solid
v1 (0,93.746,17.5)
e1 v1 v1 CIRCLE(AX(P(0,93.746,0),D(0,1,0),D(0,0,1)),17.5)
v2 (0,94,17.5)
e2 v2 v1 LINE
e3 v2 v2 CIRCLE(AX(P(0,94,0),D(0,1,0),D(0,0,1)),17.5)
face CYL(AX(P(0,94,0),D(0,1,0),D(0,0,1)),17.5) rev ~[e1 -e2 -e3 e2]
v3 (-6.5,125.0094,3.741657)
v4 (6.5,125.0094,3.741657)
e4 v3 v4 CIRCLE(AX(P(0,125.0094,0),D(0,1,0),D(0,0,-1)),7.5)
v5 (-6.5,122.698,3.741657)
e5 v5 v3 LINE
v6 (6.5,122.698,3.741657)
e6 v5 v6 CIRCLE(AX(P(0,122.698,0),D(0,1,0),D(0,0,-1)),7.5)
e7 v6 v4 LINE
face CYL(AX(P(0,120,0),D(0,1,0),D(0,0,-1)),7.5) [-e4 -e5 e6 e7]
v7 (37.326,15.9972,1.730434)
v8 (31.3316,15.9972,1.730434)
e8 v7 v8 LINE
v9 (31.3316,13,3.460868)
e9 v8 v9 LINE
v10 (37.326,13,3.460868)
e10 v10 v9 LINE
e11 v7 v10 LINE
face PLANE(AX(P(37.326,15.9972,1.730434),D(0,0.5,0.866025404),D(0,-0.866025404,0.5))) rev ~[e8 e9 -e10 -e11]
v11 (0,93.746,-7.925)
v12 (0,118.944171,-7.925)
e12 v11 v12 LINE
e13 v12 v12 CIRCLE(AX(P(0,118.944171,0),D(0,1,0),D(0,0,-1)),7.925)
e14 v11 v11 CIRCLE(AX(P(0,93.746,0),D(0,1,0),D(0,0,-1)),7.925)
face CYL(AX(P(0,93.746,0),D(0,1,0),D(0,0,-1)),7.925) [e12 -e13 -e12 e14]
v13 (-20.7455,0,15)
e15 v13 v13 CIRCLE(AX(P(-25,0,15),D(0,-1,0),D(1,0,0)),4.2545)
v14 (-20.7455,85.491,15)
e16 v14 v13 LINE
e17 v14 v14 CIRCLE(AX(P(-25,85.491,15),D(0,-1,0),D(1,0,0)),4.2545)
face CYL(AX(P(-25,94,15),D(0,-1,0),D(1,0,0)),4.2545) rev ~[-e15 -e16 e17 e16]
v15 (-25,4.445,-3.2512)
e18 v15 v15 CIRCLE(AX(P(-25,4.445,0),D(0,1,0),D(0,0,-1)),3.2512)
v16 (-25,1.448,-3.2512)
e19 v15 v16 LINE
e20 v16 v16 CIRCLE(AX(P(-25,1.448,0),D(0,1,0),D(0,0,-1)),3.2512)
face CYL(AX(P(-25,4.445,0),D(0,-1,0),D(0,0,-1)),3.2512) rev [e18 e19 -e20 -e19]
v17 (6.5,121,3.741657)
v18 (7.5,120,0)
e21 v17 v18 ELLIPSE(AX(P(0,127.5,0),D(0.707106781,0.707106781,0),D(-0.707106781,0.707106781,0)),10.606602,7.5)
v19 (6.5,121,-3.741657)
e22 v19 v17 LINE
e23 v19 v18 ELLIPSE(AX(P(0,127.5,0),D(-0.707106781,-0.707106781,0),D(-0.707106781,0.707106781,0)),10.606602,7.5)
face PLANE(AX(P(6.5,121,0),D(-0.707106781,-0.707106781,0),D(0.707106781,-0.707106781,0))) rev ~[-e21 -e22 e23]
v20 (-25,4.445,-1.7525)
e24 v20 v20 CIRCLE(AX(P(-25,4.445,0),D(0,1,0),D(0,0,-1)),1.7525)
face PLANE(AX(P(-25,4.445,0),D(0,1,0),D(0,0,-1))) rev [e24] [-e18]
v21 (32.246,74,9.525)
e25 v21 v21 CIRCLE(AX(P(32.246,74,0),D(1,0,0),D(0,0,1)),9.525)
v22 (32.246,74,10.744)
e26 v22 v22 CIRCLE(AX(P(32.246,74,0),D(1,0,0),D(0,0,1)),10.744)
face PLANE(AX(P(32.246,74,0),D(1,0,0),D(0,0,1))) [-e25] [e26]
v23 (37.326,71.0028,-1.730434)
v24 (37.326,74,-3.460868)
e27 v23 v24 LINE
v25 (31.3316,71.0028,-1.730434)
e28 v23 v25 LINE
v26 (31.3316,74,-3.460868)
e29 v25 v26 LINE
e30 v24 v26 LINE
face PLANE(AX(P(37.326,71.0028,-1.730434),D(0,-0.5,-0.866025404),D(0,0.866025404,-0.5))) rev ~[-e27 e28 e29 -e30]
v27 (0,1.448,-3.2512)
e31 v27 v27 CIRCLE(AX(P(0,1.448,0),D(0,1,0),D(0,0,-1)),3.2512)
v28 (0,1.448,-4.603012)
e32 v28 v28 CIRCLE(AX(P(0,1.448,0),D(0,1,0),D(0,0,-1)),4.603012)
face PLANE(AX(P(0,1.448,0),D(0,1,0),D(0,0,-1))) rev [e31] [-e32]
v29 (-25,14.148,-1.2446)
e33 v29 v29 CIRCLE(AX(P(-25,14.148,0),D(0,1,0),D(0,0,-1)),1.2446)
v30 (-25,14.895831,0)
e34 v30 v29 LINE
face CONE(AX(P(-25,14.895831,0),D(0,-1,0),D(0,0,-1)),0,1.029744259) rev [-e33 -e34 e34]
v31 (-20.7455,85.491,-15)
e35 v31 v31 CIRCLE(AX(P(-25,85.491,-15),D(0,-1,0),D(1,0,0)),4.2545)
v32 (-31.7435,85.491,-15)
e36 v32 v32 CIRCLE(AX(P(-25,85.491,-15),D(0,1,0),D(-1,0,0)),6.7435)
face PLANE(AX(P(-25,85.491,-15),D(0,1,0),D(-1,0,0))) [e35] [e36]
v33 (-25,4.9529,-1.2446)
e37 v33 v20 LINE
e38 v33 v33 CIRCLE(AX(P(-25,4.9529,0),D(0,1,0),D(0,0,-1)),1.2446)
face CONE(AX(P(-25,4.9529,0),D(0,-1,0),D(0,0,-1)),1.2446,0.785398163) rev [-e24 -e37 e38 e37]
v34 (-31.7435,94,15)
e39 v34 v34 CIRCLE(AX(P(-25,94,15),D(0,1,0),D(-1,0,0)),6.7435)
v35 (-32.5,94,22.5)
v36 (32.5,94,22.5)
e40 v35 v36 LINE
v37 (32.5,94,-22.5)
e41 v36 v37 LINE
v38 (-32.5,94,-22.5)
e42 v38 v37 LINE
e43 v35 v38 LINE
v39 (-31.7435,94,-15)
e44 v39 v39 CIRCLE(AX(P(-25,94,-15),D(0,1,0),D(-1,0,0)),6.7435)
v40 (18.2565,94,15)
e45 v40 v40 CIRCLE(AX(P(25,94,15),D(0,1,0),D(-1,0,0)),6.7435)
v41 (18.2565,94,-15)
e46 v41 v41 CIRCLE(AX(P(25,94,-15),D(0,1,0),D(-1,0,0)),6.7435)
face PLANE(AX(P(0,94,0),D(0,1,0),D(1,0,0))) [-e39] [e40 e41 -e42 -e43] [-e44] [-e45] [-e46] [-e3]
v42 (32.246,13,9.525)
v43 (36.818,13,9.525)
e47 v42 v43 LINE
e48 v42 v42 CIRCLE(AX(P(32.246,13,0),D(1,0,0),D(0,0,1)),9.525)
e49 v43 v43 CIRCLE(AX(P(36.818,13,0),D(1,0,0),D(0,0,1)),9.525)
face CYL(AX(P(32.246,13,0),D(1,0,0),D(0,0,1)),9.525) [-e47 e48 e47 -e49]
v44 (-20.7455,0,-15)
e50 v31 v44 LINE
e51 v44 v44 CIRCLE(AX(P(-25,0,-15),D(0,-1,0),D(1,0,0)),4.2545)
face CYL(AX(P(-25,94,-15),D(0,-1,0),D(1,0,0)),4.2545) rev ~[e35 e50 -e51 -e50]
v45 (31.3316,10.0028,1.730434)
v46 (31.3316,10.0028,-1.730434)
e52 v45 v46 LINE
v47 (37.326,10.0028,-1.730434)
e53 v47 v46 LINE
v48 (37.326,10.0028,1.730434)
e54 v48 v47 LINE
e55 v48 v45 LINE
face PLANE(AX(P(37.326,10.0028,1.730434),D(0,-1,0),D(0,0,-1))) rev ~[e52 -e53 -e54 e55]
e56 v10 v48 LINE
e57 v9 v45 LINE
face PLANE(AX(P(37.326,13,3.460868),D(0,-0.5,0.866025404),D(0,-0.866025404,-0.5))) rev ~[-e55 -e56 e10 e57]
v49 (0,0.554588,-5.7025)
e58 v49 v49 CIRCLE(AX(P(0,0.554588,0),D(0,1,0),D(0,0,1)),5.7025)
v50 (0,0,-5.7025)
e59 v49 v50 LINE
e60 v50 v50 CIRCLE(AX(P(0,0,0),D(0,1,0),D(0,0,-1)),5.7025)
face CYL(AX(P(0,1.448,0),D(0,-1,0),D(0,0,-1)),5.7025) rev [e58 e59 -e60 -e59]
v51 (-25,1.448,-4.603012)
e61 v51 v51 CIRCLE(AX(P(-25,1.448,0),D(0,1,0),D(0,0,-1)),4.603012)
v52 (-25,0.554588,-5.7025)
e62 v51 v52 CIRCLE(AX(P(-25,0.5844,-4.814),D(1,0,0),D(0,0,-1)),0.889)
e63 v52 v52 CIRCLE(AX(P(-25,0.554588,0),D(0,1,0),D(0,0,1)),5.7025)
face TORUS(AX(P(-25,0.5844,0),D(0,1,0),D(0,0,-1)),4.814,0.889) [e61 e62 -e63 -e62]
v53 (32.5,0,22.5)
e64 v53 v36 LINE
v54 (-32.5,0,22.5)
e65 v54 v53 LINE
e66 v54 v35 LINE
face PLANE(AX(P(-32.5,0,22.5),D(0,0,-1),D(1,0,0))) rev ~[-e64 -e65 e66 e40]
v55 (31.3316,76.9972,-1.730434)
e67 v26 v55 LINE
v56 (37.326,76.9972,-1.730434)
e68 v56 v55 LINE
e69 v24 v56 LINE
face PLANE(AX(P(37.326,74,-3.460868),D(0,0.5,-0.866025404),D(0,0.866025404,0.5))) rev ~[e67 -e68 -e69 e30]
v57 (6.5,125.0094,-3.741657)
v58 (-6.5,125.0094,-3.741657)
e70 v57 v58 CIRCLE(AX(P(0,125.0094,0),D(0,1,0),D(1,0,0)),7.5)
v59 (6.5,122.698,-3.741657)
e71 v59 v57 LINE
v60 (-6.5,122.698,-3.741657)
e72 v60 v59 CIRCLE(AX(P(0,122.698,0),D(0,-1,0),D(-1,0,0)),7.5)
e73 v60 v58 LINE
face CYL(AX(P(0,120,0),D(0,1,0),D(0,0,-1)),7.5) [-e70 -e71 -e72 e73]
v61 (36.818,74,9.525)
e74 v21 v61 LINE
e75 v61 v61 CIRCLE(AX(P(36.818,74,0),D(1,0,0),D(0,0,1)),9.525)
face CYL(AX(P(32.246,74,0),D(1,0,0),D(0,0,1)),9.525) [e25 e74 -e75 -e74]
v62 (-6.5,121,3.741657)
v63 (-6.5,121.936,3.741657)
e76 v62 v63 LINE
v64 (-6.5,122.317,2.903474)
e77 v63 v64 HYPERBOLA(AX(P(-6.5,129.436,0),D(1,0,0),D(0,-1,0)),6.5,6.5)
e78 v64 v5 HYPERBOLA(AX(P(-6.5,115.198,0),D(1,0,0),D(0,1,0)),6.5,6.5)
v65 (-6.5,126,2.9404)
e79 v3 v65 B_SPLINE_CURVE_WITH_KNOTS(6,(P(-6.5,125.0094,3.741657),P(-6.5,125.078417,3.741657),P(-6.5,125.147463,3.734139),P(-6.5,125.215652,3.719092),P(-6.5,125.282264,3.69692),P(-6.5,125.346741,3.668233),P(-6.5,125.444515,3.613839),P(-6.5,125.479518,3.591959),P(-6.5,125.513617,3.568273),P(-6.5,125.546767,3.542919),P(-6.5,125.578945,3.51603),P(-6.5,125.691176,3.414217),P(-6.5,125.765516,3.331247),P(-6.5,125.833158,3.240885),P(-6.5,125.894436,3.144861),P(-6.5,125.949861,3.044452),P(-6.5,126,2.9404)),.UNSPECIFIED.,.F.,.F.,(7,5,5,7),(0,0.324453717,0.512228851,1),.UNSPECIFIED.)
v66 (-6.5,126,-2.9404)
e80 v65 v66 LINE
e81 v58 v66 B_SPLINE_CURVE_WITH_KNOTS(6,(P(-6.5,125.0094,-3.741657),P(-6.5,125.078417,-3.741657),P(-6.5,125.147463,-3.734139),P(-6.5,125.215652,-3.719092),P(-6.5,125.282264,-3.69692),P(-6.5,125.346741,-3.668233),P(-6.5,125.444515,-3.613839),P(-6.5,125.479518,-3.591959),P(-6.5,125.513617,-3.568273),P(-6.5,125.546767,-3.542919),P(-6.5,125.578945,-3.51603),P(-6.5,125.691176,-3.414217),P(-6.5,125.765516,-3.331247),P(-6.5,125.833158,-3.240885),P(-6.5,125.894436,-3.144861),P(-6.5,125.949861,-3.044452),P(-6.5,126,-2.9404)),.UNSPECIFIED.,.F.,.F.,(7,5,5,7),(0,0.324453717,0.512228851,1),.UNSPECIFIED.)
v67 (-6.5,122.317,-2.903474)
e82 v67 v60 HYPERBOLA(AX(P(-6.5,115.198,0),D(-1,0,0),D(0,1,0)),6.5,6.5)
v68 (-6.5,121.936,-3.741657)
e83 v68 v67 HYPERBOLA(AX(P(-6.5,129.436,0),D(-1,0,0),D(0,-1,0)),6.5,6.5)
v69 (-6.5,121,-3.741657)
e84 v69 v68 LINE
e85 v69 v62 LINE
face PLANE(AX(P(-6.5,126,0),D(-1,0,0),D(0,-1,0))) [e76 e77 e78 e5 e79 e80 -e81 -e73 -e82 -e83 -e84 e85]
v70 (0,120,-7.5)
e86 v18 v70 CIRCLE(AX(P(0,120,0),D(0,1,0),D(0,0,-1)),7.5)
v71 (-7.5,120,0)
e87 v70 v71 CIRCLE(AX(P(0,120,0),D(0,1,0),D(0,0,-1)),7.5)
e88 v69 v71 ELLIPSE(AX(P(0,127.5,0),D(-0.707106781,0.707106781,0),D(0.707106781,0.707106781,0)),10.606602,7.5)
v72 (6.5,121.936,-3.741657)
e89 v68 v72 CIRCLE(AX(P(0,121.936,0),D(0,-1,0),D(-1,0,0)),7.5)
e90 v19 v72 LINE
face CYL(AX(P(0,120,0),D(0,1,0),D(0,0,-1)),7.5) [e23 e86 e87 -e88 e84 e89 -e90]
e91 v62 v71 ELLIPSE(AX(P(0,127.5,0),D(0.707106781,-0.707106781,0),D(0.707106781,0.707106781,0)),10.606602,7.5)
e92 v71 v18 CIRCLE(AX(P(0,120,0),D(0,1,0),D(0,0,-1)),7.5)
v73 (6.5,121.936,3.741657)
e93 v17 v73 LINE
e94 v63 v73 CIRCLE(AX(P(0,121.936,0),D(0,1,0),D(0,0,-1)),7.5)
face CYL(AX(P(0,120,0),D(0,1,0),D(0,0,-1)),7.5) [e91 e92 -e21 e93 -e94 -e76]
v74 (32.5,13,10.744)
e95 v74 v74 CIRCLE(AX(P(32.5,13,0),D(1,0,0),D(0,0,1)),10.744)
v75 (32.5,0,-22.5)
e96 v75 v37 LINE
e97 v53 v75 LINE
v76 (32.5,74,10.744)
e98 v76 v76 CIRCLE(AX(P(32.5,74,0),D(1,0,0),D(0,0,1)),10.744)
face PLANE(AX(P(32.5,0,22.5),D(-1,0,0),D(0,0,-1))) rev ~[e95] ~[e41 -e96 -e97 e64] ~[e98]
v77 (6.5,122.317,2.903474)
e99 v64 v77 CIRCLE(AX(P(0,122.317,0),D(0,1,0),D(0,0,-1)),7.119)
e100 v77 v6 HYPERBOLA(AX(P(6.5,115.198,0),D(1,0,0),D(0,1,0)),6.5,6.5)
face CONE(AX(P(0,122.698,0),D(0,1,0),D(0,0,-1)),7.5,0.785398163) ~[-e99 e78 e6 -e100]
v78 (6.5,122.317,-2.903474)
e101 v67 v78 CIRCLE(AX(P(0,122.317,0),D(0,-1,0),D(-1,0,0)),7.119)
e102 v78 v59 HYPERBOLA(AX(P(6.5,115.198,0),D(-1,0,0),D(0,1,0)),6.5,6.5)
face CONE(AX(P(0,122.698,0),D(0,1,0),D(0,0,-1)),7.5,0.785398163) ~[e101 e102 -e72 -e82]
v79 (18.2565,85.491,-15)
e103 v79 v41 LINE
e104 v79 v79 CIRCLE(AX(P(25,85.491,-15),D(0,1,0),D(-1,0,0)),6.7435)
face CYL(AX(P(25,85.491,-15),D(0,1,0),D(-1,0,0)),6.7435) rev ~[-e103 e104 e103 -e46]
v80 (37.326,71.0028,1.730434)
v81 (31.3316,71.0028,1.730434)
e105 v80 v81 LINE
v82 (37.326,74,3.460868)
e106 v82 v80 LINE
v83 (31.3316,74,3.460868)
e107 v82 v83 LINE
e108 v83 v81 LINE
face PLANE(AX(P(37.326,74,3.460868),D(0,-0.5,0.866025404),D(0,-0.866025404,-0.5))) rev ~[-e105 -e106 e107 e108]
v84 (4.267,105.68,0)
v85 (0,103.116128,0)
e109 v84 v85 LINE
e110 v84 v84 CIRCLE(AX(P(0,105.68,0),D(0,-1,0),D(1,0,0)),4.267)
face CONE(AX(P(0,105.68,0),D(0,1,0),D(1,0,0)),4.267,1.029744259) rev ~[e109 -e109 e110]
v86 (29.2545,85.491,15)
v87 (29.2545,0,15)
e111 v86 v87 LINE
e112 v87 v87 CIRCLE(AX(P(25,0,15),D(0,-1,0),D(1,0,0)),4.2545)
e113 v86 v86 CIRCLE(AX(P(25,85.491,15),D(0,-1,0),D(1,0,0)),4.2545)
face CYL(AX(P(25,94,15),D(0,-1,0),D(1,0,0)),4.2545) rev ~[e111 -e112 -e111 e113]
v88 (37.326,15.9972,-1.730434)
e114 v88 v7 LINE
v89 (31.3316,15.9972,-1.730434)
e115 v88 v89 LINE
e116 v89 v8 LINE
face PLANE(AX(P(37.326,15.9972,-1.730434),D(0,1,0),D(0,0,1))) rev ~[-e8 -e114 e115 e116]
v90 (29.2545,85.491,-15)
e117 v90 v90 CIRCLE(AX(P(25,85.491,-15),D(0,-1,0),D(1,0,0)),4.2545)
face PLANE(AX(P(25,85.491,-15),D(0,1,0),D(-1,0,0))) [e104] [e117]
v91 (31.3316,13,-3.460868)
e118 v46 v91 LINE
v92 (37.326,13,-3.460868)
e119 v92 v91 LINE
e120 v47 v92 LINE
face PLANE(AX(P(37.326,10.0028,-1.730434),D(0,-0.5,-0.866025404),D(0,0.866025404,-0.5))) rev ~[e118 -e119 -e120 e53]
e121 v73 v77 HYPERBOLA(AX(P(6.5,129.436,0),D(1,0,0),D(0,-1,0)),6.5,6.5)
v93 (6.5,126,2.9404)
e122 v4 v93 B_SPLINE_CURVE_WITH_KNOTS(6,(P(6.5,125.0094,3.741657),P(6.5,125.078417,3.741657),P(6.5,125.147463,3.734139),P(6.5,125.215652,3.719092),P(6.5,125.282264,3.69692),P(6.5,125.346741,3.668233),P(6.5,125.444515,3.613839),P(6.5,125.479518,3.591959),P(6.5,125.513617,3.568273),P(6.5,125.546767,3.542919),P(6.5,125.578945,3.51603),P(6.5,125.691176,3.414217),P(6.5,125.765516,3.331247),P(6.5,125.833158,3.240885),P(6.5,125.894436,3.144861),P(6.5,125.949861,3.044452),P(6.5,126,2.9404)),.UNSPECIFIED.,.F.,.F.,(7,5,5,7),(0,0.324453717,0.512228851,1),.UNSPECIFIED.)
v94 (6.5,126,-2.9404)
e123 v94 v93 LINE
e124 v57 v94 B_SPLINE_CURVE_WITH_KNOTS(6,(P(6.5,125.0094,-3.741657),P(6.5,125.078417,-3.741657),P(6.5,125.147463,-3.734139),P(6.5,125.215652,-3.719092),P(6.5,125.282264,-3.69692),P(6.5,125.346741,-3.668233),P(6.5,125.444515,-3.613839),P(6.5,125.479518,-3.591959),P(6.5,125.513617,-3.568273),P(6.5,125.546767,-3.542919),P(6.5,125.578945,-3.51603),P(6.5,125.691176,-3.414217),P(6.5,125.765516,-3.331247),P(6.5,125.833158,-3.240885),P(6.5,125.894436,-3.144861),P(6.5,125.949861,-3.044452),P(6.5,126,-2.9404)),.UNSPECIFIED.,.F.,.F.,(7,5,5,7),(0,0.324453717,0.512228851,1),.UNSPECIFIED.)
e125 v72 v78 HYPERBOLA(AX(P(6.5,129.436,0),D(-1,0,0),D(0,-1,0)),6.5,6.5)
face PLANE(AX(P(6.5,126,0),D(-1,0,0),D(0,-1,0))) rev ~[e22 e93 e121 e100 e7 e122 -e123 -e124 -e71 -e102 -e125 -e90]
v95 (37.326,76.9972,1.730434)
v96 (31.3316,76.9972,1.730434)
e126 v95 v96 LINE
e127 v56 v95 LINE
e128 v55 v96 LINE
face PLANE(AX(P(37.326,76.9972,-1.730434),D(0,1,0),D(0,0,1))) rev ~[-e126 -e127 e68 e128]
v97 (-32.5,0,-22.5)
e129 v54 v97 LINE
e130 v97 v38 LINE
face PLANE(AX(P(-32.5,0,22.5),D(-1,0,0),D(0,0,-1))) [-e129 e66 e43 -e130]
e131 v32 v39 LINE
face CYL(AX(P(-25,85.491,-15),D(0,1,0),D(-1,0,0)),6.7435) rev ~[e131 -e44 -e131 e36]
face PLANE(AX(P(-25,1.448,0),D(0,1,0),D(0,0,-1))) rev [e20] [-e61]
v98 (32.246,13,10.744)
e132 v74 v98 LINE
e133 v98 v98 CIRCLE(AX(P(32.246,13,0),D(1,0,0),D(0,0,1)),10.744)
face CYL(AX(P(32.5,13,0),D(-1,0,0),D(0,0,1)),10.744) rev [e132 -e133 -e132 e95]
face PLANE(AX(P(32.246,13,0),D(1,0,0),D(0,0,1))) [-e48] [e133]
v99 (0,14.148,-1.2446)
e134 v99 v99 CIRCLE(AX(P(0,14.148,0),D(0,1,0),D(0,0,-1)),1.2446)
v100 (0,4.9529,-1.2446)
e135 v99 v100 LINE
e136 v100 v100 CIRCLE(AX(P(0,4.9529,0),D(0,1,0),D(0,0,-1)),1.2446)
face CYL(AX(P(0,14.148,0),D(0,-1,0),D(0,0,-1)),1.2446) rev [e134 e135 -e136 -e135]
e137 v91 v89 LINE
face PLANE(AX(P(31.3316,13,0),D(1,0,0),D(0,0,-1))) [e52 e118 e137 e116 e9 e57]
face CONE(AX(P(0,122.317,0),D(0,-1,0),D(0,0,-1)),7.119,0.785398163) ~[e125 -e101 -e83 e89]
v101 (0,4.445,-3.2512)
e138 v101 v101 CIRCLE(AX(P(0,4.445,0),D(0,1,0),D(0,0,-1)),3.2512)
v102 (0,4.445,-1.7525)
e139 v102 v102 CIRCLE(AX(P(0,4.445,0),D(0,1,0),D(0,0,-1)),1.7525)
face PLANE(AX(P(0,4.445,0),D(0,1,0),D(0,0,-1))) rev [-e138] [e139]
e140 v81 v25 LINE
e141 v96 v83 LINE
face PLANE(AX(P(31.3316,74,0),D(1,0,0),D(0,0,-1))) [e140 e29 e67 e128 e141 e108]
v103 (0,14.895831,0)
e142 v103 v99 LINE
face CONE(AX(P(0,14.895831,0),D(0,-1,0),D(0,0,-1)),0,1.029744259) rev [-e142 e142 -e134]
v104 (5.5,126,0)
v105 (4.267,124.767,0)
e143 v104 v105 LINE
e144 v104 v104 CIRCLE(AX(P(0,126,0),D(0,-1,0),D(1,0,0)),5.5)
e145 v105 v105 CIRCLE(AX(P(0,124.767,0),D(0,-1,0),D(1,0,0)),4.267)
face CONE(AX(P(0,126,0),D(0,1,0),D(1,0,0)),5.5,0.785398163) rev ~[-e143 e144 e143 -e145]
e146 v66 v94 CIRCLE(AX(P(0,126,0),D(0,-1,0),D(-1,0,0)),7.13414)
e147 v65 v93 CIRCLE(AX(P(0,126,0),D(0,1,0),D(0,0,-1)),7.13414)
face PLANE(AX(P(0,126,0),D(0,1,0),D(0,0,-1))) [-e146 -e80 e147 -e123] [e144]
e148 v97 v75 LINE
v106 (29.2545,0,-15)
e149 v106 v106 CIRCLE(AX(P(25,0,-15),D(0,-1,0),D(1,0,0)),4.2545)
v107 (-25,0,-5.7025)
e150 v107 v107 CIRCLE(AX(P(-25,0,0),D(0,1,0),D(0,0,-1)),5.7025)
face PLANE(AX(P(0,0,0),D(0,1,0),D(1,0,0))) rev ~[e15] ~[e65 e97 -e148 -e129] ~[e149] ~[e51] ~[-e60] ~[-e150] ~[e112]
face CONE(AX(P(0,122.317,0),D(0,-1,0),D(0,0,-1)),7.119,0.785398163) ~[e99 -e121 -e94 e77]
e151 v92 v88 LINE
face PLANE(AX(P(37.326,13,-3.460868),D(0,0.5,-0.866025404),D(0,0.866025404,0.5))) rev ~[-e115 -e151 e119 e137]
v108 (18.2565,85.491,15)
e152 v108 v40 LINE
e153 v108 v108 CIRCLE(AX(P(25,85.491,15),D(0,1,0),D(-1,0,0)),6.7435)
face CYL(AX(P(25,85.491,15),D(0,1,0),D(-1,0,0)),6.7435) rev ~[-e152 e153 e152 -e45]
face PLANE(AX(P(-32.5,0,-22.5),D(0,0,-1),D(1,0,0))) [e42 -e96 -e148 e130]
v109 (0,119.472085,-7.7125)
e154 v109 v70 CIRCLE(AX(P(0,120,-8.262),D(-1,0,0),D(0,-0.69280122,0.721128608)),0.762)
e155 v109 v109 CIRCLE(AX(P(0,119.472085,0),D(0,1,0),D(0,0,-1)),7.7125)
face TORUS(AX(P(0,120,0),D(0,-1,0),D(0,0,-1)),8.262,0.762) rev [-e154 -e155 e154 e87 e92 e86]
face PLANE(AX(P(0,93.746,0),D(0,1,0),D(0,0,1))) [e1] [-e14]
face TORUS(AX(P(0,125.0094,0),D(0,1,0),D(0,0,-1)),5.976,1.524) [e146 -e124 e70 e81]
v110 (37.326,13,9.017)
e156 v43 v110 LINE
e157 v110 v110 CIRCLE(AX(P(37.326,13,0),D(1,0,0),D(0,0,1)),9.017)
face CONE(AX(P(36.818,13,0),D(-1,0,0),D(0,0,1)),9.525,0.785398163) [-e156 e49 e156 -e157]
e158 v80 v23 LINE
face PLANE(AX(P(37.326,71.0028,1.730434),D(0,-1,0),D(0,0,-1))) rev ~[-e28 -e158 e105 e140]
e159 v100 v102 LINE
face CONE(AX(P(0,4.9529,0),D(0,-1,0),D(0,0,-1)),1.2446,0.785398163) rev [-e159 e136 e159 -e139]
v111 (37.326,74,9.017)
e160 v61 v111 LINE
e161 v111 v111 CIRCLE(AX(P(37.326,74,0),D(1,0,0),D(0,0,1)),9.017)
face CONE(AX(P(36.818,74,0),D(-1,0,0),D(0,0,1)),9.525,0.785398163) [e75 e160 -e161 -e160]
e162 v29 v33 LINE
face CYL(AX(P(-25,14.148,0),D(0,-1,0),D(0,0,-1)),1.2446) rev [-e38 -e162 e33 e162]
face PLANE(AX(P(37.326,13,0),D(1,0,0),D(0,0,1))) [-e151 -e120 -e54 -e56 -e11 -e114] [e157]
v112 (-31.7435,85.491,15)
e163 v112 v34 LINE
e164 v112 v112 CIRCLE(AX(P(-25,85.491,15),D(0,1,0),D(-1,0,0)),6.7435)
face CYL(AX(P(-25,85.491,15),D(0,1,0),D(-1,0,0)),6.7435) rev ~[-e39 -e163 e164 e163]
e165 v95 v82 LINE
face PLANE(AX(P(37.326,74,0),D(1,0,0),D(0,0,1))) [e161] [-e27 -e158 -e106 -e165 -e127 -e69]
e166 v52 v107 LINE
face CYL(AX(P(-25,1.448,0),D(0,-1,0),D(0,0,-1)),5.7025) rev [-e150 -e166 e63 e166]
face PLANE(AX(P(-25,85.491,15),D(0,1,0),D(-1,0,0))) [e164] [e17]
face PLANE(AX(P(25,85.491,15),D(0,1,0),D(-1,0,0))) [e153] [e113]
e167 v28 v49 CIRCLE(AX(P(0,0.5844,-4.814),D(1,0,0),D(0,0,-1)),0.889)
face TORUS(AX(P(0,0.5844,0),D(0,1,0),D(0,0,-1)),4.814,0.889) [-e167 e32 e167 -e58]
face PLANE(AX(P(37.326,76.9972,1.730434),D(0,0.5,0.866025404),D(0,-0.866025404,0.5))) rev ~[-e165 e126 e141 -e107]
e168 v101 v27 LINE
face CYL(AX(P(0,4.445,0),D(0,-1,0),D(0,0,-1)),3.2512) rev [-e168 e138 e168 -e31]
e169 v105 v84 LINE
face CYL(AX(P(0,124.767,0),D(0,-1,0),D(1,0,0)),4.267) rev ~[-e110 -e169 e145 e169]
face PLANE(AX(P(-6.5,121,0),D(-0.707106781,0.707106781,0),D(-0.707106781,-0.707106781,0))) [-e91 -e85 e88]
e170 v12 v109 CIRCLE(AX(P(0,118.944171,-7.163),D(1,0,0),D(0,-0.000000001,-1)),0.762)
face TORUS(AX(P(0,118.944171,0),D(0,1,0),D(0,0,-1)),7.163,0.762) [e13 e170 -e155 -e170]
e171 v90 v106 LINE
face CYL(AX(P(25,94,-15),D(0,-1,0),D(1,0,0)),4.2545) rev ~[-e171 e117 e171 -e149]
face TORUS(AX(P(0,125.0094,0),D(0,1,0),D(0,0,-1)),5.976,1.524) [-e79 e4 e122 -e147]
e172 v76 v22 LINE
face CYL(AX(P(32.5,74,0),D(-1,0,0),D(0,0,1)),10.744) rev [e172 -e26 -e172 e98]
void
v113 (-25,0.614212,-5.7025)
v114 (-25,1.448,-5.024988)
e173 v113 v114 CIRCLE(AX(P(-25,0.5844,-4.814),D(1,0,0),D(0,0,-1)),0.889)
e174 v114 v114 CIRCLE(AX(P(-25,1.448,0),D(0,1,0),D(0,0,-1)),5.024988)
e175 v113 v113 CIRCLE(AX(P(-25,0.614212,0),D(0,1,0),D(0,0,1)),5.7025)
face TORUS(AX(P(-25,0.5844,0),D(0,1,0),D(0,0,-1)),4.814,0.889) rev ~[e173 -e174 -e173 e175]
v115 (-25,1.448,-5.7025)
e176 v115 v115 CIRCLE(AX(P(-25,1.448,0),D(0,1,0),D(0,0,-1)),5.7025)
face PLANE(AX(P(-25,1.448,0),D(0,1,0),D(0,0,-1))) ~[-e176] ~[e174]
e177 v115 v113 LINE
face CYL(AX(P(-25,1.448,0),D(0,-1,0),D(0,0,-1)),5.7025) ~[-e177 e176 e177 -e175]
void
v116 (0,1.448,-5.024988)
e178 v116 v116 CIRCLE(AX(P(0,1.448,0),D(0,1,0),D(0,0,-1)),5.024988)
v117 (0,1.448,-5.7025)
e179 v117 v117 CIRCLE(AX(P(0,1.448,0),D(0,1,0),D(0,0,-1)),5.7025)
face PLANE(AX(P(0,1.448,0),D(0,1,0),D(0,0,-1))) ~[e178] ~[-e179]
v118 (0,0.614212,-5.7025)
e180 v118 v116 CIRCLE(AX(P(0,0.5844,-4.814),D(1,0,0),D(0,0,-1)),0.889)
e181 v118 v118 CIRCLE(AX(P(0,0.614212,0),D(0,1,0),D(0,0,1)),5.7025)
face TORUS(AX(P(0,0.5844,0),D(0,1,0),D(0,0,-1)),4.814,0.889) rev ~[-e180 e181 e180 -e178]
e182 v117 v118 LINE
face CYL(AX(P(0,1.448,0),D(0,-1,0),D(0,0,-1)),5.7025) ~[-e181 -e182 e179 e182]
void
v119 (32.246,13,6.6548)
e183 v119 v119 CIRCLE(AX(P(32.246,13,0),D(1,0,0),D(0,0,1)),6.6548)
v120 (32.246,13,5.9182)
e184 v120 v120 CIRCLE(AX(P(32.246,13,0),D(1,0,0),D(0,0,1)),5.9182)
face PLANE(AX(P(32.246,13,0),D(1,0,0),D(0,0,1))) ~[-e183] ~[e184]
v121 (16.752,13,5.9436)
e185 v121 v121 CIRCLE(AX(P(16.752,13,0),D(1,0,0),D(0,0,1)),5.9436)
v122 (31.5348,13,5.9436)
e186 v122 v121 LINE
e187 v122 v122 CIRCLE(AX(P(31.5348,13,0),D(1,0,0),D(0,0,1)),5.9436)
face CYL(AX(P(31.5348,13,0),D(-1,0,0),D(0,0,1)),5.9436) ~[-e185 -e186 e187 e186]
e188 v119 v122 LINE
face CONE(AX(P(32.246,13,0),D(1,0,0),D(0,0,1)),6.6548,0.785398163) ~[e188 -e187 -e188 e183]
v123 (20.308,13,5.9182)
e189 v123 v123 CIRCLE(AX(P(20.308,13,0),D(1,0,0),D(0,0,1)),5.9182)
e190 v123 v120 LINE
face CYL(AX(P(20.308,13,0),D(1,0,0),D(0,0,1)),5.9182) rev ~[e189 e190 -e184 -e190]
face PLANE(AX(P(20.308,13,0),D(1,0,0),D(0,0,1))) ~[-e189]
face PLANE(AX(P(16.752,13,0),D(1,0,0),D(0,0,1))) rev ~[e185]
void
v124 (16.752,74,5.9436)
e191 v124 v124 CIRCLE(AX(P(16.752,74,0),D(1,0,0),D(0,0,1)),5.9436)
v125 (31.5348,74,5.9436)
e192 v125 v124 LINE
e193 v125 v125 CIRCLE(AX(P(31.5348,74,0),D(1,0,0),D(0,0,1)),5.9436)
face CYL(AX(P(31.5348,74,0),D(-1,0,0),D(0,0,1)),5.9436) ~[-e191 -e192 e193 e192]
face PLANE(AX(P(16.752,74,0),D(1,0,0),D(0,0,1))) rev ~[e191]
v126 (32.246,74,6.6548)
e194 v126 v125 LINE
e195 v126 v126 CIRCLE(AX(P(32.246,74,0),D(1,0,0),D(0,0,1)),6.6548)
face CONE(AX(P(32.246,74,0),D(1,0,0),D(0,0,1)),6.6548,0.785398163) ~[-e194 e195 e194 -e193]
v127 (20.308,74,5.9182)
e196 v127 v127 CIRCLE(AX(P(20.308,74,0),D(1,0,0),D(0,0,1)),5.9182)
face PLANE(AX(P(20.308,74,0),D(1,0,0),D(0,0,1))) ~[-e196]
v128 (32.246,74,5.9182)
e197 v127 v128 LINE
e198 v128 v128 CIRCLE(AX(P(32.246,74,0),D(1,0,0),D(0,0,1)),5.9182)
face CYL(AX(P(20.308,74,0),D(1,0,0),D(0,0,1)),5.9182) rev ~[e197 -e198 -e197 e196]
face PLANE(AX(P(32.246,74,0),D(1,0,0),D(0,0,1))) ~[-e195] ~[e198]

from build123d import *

# Parameters (mm, degrees)
SKETCH1_W                  = 65
SKETCH1_H                  = 45
EXTRUDE1_DEPTH             = 94
SKETCH2_R                  = 17.5
CUT_EXTRUDE1_DEPTH         = 0.254
CHAMFER1_SIZE              = 0.508
CUT_EXTRUDE2_DEPTH         = 5.9944
LPATTERN1_COUNT            = 2
LPATTERN1_PITCH            = 61
CHAMFER1_OF_LPATTERN1_SIZE = 0.508
SKETCH7_R                  = 0.889
LPATTERN2_COUNT            = 2
LPATTERN2_PITCH            = 25
CUT_EXTRUDE3_DEPTH         = 23.5
CUT_EXTRUDE3_DEPTH_BACK    = 23.5
HOLE1_D                    = 8.509
HOLE1_CBORE_D              = 13.487
HOLE1_CBORE_DEPTH          = 8.509


with BuildPart() as part:
    # Sketch1 → Extrude1 (new body)
    with BuildSketch(Plane(origin=(0, 0, 0), x_dir=(1, 0, 0), z_dir=(0, 1, 0))):
        Rectangle(SKETCH1_W, SKETCH1_H)
    extrude(amount=EXTRUDE1_DEPTH)

    # Sketch2 → Cut-Extrude1 (cut)
    with BuildSketch(Plane(origin=(0, 94, 0), x_dir=(1, 0, 0), z_dir=(0, 1, 0))):
        with Locations(Location((0, 0, 0), (0, 0, 270))):  # turned: the seam where the file's is
            Circle(SKETCH2_R)
    extrude(amount=-CUT_EXTRUDE1_DEPTH, mode=Mode.SUBTRACT)

    # Sketch3 → Cut-Revolve1 (revolve, cut)
    with BuildSketch(Plane.XY, mode=Mode.PRIVATE) as cut_revolve1_sk:
        Polygon((32.5, 74), (32.5, 63.256), (32.246, 63.256), (32.246, 67.3452), (31.5348, 68.0564), (16.752, 68.0564), (16.752, 74), align=None)
    cut_revolve1 = revolve(cut_revolve1_sk.sketch.rotate(Axis((-6.847979502, 74, 0), (1, 0, 0)), 270), axis=Axis((-6.847979502, 74, 0), (1, 0, 0)), mode=Mode.SUBTRACT)  # turned: the seam where the file's is

    # Sketch4 → Revolve1 (revolve)
    with BuildSketch(Plane.XY, mode=Mode.PRIVATE) as revolve1_sk:
        Polygon((20.308, 74), (20.308, 79.9182), (32.246, 79.9182), (32.246, 83.525), (37.326, 83.525), (37.326, 74), align=None)
    revolve1 = revolve(revolve1_sk.sketch.rotate(Axis((8.732572807, 74, 0), (1, 0, 0)), 90), axis=Axis((8.732572807, 74, 0), (1, 0, 0)))  # turned: the seam where the file's is

    # Chamfer1
    chamfer1_edges = [part.edges().sort_by_distance(p)[0] for p in [
        (37.326, 74, -9.525),
    ]]
    chamfer(chamfer1_edges, length=CHAMFER1_SIZE)

    # Sketch5 → Cut-Extrude2 (cut)
    with BuildSketch(Plane(origin=(37.326, 0, 0), x_dir=(0, 0, -1), z_dir=(1, 0, 0))):
        Polygon((1.730434227, 76.9972), (-1.730434227, 76.9972), (-3.460868454, 74), (-1.730434227, 71.0028), (1.730434227, 71.0028), (3.460868454, 74), align=None)
    cut_extrude2 = extrude(amount=-CUT_EXTRUDE2_DEPTH, mode=Mode.SUBTRACT)

    # LPattern1: Cut-Revolve1, Revolve1, Cut-Extrude2 ×2
    with Locations(*[(0, -i * LPATTERN1_PITCH, 0) for i in range(1, LPATTERN1_COUNT)]):
        add(cut_revolve1, mode=Mode.SUBTRACT)
        add(revolve1)
        add(cut_extrude2, mode=Mode.SUBTRACT)

    # Chamfer1 of LPattern1
    chamfer1_of_lpattern1_edges = [part.edges().sort_by_distance(p)[0] for p in [
        (37.326, 13, -9.525),
    ]]
    chamfer(chamfer1_of_lpattern1_edges, length=CHAMFER1_OF_LPATTERN1_SIZE)

    # Sketch6 → Cut-Revolve2 (revolve, cut)
    with BuildSketch(Plane.XY, mode=Mode.PRIVATE) as cut_revolve2_sk:
        Polygon((0, 0), (0, 14.895831126), (1.2446, 14.148), (1.2446, 4.9529), (1.7525, 4.445), (3.2512, 4.445), (3.2512, 1.448), (5.7025, 1.448), (5.7025, 0), align=None)
    cut_revolve2 = revolve(cut_revolve2_sk.sketch.rotate(Axis((0, 0, 0), (0, 1, 0)), 90), axis=Axis((0, 0, 0), (0, 1, 0)), mode=Mode.SUBTRACT)  # turned: the seam where the file's is

    # Sketch7 → Revolve3 (revolve)
    with BuildSketch(Plane.XY, mode=Mode.PRIVATE) as revolve3_sk:
        with Locations((4.814, 0.5844)):
            Circle(SKETCH7_R)
    revolve3 = revolve(revolve3_sk.sketch.rotate(Axis((0, 0, 0), (0, 1, 0)), 90), axis=Axis((0, 0, 0), (0, 1, 0)))  # turned: the seam where the file's is

    # LPattern2: Cut-Revolve2, Revolve3 ×2
    with Locations(*[(-i * LPATTERN2_PITCH, 0, 0) for i in range(1, LPATTERN2_COUNT)]):
        add(cut_revolve2, mode=Mode.SUBTRACT)
        add(revolve3)

    # Sketch8 → Revolve4 (revolve)
    with BuildSketch(Plane.XY, mode=Mode.PRIVATE) as revolve4_sk:
        with BuildLine():
            Line((7.925, 93.746), (7.925, 118.944170942))
            ThreePointArc((7.925, 118.944170942), (7.869881532, 119.228710043), (7.7125, 119.472085471))
            ThreePointArc((7.7125, 119.472085471), (7.555118468, 119.715460899), (7.5, 120))
            Line((7.5, 120), (7.5, 125.0094))
            ThreePointArc((7.5, 125.0094), (7.405612002, 125.537401443), (7.134139733, 126))
            Line((7.134139733, 126), (0, 126))
            Line((0, 126), (0, 93.746))
            Line((0, 93.746), (7.925, 93.746))
        make_face()
    revolve(revolve4_sk.sketch.rotate(Axis((0, 0, 0), (0, 1, 0)), 90), axis=Axis((0, 0, 0), (0, 1, 0)))  # turned: the seam where the file's is

    # Sketch10 → Cut-Revolve3 (revolve, cut)
    with BuildSketch(Plane.XY):
        Polygon((5.5, 126), (4.267, 124.767), (4.267, 105.68), (0, 103.116127739), (0, 126), align=None)
    revolve(axis=Axis((0, 126, 0), (0, -1, 0)), mode=Mode.SUBTRACT)

    # Sketch11 → Cut-Revolve4 (revolve, cut)
    with BuildSketch(Plane.XY, mode=Mode.PRIVATE) as cut_revolve4_sk:
        Polygon((7.5, 122.698), (7.119, 122.317), (7.5, 121.936), align=None)
    revolve(cut_revolve4_sk.sketch.rotate(Axis((0, 0, 0), (0, 1, 0)), 90), axis=Axis((0, 0, 0), (0, 1, 0)), mode=Mode.SUBTRACT)  # turned: the seam where the file's is

    # Sketch12 → Cut-Extrude3 (cut, two sides)
    with BuildSketch(Plane.XY) as cut_extrude3_sk:
        Polygon((6.5, 126), (6.5, 121), (7.925, 119.575), (7.925, 126), align=None)
        Polygon((-7.925, 126), (-6.5, 126), (-6.5, 121), (-7.925, 119.575), align=None)
    extrude(amount=CUT_EXTRUDE3_DEPTH, mode=Mode.SUBTRACT)
    extrude(cut_extrude3_sk.sketch, amount=-CUT_EXTRUDE3_DEPTH_BACK, mode=Mode.SUBTRACT)

    # Hole1 (through all)
    with Locations(Plane(origin=(0, 94, 0), x_dir=(-1, 0, 0), z_dir=(0, 1, 0))):
        with Locations((25, 15), (25, -15), (-25, -15), (-25, 15)):
            CounterBoreHole(HOLE1_D / 2, HOLE1_CBORE_D / 2, HOLE1_CBORE_DEPTH)


solid = part.part
